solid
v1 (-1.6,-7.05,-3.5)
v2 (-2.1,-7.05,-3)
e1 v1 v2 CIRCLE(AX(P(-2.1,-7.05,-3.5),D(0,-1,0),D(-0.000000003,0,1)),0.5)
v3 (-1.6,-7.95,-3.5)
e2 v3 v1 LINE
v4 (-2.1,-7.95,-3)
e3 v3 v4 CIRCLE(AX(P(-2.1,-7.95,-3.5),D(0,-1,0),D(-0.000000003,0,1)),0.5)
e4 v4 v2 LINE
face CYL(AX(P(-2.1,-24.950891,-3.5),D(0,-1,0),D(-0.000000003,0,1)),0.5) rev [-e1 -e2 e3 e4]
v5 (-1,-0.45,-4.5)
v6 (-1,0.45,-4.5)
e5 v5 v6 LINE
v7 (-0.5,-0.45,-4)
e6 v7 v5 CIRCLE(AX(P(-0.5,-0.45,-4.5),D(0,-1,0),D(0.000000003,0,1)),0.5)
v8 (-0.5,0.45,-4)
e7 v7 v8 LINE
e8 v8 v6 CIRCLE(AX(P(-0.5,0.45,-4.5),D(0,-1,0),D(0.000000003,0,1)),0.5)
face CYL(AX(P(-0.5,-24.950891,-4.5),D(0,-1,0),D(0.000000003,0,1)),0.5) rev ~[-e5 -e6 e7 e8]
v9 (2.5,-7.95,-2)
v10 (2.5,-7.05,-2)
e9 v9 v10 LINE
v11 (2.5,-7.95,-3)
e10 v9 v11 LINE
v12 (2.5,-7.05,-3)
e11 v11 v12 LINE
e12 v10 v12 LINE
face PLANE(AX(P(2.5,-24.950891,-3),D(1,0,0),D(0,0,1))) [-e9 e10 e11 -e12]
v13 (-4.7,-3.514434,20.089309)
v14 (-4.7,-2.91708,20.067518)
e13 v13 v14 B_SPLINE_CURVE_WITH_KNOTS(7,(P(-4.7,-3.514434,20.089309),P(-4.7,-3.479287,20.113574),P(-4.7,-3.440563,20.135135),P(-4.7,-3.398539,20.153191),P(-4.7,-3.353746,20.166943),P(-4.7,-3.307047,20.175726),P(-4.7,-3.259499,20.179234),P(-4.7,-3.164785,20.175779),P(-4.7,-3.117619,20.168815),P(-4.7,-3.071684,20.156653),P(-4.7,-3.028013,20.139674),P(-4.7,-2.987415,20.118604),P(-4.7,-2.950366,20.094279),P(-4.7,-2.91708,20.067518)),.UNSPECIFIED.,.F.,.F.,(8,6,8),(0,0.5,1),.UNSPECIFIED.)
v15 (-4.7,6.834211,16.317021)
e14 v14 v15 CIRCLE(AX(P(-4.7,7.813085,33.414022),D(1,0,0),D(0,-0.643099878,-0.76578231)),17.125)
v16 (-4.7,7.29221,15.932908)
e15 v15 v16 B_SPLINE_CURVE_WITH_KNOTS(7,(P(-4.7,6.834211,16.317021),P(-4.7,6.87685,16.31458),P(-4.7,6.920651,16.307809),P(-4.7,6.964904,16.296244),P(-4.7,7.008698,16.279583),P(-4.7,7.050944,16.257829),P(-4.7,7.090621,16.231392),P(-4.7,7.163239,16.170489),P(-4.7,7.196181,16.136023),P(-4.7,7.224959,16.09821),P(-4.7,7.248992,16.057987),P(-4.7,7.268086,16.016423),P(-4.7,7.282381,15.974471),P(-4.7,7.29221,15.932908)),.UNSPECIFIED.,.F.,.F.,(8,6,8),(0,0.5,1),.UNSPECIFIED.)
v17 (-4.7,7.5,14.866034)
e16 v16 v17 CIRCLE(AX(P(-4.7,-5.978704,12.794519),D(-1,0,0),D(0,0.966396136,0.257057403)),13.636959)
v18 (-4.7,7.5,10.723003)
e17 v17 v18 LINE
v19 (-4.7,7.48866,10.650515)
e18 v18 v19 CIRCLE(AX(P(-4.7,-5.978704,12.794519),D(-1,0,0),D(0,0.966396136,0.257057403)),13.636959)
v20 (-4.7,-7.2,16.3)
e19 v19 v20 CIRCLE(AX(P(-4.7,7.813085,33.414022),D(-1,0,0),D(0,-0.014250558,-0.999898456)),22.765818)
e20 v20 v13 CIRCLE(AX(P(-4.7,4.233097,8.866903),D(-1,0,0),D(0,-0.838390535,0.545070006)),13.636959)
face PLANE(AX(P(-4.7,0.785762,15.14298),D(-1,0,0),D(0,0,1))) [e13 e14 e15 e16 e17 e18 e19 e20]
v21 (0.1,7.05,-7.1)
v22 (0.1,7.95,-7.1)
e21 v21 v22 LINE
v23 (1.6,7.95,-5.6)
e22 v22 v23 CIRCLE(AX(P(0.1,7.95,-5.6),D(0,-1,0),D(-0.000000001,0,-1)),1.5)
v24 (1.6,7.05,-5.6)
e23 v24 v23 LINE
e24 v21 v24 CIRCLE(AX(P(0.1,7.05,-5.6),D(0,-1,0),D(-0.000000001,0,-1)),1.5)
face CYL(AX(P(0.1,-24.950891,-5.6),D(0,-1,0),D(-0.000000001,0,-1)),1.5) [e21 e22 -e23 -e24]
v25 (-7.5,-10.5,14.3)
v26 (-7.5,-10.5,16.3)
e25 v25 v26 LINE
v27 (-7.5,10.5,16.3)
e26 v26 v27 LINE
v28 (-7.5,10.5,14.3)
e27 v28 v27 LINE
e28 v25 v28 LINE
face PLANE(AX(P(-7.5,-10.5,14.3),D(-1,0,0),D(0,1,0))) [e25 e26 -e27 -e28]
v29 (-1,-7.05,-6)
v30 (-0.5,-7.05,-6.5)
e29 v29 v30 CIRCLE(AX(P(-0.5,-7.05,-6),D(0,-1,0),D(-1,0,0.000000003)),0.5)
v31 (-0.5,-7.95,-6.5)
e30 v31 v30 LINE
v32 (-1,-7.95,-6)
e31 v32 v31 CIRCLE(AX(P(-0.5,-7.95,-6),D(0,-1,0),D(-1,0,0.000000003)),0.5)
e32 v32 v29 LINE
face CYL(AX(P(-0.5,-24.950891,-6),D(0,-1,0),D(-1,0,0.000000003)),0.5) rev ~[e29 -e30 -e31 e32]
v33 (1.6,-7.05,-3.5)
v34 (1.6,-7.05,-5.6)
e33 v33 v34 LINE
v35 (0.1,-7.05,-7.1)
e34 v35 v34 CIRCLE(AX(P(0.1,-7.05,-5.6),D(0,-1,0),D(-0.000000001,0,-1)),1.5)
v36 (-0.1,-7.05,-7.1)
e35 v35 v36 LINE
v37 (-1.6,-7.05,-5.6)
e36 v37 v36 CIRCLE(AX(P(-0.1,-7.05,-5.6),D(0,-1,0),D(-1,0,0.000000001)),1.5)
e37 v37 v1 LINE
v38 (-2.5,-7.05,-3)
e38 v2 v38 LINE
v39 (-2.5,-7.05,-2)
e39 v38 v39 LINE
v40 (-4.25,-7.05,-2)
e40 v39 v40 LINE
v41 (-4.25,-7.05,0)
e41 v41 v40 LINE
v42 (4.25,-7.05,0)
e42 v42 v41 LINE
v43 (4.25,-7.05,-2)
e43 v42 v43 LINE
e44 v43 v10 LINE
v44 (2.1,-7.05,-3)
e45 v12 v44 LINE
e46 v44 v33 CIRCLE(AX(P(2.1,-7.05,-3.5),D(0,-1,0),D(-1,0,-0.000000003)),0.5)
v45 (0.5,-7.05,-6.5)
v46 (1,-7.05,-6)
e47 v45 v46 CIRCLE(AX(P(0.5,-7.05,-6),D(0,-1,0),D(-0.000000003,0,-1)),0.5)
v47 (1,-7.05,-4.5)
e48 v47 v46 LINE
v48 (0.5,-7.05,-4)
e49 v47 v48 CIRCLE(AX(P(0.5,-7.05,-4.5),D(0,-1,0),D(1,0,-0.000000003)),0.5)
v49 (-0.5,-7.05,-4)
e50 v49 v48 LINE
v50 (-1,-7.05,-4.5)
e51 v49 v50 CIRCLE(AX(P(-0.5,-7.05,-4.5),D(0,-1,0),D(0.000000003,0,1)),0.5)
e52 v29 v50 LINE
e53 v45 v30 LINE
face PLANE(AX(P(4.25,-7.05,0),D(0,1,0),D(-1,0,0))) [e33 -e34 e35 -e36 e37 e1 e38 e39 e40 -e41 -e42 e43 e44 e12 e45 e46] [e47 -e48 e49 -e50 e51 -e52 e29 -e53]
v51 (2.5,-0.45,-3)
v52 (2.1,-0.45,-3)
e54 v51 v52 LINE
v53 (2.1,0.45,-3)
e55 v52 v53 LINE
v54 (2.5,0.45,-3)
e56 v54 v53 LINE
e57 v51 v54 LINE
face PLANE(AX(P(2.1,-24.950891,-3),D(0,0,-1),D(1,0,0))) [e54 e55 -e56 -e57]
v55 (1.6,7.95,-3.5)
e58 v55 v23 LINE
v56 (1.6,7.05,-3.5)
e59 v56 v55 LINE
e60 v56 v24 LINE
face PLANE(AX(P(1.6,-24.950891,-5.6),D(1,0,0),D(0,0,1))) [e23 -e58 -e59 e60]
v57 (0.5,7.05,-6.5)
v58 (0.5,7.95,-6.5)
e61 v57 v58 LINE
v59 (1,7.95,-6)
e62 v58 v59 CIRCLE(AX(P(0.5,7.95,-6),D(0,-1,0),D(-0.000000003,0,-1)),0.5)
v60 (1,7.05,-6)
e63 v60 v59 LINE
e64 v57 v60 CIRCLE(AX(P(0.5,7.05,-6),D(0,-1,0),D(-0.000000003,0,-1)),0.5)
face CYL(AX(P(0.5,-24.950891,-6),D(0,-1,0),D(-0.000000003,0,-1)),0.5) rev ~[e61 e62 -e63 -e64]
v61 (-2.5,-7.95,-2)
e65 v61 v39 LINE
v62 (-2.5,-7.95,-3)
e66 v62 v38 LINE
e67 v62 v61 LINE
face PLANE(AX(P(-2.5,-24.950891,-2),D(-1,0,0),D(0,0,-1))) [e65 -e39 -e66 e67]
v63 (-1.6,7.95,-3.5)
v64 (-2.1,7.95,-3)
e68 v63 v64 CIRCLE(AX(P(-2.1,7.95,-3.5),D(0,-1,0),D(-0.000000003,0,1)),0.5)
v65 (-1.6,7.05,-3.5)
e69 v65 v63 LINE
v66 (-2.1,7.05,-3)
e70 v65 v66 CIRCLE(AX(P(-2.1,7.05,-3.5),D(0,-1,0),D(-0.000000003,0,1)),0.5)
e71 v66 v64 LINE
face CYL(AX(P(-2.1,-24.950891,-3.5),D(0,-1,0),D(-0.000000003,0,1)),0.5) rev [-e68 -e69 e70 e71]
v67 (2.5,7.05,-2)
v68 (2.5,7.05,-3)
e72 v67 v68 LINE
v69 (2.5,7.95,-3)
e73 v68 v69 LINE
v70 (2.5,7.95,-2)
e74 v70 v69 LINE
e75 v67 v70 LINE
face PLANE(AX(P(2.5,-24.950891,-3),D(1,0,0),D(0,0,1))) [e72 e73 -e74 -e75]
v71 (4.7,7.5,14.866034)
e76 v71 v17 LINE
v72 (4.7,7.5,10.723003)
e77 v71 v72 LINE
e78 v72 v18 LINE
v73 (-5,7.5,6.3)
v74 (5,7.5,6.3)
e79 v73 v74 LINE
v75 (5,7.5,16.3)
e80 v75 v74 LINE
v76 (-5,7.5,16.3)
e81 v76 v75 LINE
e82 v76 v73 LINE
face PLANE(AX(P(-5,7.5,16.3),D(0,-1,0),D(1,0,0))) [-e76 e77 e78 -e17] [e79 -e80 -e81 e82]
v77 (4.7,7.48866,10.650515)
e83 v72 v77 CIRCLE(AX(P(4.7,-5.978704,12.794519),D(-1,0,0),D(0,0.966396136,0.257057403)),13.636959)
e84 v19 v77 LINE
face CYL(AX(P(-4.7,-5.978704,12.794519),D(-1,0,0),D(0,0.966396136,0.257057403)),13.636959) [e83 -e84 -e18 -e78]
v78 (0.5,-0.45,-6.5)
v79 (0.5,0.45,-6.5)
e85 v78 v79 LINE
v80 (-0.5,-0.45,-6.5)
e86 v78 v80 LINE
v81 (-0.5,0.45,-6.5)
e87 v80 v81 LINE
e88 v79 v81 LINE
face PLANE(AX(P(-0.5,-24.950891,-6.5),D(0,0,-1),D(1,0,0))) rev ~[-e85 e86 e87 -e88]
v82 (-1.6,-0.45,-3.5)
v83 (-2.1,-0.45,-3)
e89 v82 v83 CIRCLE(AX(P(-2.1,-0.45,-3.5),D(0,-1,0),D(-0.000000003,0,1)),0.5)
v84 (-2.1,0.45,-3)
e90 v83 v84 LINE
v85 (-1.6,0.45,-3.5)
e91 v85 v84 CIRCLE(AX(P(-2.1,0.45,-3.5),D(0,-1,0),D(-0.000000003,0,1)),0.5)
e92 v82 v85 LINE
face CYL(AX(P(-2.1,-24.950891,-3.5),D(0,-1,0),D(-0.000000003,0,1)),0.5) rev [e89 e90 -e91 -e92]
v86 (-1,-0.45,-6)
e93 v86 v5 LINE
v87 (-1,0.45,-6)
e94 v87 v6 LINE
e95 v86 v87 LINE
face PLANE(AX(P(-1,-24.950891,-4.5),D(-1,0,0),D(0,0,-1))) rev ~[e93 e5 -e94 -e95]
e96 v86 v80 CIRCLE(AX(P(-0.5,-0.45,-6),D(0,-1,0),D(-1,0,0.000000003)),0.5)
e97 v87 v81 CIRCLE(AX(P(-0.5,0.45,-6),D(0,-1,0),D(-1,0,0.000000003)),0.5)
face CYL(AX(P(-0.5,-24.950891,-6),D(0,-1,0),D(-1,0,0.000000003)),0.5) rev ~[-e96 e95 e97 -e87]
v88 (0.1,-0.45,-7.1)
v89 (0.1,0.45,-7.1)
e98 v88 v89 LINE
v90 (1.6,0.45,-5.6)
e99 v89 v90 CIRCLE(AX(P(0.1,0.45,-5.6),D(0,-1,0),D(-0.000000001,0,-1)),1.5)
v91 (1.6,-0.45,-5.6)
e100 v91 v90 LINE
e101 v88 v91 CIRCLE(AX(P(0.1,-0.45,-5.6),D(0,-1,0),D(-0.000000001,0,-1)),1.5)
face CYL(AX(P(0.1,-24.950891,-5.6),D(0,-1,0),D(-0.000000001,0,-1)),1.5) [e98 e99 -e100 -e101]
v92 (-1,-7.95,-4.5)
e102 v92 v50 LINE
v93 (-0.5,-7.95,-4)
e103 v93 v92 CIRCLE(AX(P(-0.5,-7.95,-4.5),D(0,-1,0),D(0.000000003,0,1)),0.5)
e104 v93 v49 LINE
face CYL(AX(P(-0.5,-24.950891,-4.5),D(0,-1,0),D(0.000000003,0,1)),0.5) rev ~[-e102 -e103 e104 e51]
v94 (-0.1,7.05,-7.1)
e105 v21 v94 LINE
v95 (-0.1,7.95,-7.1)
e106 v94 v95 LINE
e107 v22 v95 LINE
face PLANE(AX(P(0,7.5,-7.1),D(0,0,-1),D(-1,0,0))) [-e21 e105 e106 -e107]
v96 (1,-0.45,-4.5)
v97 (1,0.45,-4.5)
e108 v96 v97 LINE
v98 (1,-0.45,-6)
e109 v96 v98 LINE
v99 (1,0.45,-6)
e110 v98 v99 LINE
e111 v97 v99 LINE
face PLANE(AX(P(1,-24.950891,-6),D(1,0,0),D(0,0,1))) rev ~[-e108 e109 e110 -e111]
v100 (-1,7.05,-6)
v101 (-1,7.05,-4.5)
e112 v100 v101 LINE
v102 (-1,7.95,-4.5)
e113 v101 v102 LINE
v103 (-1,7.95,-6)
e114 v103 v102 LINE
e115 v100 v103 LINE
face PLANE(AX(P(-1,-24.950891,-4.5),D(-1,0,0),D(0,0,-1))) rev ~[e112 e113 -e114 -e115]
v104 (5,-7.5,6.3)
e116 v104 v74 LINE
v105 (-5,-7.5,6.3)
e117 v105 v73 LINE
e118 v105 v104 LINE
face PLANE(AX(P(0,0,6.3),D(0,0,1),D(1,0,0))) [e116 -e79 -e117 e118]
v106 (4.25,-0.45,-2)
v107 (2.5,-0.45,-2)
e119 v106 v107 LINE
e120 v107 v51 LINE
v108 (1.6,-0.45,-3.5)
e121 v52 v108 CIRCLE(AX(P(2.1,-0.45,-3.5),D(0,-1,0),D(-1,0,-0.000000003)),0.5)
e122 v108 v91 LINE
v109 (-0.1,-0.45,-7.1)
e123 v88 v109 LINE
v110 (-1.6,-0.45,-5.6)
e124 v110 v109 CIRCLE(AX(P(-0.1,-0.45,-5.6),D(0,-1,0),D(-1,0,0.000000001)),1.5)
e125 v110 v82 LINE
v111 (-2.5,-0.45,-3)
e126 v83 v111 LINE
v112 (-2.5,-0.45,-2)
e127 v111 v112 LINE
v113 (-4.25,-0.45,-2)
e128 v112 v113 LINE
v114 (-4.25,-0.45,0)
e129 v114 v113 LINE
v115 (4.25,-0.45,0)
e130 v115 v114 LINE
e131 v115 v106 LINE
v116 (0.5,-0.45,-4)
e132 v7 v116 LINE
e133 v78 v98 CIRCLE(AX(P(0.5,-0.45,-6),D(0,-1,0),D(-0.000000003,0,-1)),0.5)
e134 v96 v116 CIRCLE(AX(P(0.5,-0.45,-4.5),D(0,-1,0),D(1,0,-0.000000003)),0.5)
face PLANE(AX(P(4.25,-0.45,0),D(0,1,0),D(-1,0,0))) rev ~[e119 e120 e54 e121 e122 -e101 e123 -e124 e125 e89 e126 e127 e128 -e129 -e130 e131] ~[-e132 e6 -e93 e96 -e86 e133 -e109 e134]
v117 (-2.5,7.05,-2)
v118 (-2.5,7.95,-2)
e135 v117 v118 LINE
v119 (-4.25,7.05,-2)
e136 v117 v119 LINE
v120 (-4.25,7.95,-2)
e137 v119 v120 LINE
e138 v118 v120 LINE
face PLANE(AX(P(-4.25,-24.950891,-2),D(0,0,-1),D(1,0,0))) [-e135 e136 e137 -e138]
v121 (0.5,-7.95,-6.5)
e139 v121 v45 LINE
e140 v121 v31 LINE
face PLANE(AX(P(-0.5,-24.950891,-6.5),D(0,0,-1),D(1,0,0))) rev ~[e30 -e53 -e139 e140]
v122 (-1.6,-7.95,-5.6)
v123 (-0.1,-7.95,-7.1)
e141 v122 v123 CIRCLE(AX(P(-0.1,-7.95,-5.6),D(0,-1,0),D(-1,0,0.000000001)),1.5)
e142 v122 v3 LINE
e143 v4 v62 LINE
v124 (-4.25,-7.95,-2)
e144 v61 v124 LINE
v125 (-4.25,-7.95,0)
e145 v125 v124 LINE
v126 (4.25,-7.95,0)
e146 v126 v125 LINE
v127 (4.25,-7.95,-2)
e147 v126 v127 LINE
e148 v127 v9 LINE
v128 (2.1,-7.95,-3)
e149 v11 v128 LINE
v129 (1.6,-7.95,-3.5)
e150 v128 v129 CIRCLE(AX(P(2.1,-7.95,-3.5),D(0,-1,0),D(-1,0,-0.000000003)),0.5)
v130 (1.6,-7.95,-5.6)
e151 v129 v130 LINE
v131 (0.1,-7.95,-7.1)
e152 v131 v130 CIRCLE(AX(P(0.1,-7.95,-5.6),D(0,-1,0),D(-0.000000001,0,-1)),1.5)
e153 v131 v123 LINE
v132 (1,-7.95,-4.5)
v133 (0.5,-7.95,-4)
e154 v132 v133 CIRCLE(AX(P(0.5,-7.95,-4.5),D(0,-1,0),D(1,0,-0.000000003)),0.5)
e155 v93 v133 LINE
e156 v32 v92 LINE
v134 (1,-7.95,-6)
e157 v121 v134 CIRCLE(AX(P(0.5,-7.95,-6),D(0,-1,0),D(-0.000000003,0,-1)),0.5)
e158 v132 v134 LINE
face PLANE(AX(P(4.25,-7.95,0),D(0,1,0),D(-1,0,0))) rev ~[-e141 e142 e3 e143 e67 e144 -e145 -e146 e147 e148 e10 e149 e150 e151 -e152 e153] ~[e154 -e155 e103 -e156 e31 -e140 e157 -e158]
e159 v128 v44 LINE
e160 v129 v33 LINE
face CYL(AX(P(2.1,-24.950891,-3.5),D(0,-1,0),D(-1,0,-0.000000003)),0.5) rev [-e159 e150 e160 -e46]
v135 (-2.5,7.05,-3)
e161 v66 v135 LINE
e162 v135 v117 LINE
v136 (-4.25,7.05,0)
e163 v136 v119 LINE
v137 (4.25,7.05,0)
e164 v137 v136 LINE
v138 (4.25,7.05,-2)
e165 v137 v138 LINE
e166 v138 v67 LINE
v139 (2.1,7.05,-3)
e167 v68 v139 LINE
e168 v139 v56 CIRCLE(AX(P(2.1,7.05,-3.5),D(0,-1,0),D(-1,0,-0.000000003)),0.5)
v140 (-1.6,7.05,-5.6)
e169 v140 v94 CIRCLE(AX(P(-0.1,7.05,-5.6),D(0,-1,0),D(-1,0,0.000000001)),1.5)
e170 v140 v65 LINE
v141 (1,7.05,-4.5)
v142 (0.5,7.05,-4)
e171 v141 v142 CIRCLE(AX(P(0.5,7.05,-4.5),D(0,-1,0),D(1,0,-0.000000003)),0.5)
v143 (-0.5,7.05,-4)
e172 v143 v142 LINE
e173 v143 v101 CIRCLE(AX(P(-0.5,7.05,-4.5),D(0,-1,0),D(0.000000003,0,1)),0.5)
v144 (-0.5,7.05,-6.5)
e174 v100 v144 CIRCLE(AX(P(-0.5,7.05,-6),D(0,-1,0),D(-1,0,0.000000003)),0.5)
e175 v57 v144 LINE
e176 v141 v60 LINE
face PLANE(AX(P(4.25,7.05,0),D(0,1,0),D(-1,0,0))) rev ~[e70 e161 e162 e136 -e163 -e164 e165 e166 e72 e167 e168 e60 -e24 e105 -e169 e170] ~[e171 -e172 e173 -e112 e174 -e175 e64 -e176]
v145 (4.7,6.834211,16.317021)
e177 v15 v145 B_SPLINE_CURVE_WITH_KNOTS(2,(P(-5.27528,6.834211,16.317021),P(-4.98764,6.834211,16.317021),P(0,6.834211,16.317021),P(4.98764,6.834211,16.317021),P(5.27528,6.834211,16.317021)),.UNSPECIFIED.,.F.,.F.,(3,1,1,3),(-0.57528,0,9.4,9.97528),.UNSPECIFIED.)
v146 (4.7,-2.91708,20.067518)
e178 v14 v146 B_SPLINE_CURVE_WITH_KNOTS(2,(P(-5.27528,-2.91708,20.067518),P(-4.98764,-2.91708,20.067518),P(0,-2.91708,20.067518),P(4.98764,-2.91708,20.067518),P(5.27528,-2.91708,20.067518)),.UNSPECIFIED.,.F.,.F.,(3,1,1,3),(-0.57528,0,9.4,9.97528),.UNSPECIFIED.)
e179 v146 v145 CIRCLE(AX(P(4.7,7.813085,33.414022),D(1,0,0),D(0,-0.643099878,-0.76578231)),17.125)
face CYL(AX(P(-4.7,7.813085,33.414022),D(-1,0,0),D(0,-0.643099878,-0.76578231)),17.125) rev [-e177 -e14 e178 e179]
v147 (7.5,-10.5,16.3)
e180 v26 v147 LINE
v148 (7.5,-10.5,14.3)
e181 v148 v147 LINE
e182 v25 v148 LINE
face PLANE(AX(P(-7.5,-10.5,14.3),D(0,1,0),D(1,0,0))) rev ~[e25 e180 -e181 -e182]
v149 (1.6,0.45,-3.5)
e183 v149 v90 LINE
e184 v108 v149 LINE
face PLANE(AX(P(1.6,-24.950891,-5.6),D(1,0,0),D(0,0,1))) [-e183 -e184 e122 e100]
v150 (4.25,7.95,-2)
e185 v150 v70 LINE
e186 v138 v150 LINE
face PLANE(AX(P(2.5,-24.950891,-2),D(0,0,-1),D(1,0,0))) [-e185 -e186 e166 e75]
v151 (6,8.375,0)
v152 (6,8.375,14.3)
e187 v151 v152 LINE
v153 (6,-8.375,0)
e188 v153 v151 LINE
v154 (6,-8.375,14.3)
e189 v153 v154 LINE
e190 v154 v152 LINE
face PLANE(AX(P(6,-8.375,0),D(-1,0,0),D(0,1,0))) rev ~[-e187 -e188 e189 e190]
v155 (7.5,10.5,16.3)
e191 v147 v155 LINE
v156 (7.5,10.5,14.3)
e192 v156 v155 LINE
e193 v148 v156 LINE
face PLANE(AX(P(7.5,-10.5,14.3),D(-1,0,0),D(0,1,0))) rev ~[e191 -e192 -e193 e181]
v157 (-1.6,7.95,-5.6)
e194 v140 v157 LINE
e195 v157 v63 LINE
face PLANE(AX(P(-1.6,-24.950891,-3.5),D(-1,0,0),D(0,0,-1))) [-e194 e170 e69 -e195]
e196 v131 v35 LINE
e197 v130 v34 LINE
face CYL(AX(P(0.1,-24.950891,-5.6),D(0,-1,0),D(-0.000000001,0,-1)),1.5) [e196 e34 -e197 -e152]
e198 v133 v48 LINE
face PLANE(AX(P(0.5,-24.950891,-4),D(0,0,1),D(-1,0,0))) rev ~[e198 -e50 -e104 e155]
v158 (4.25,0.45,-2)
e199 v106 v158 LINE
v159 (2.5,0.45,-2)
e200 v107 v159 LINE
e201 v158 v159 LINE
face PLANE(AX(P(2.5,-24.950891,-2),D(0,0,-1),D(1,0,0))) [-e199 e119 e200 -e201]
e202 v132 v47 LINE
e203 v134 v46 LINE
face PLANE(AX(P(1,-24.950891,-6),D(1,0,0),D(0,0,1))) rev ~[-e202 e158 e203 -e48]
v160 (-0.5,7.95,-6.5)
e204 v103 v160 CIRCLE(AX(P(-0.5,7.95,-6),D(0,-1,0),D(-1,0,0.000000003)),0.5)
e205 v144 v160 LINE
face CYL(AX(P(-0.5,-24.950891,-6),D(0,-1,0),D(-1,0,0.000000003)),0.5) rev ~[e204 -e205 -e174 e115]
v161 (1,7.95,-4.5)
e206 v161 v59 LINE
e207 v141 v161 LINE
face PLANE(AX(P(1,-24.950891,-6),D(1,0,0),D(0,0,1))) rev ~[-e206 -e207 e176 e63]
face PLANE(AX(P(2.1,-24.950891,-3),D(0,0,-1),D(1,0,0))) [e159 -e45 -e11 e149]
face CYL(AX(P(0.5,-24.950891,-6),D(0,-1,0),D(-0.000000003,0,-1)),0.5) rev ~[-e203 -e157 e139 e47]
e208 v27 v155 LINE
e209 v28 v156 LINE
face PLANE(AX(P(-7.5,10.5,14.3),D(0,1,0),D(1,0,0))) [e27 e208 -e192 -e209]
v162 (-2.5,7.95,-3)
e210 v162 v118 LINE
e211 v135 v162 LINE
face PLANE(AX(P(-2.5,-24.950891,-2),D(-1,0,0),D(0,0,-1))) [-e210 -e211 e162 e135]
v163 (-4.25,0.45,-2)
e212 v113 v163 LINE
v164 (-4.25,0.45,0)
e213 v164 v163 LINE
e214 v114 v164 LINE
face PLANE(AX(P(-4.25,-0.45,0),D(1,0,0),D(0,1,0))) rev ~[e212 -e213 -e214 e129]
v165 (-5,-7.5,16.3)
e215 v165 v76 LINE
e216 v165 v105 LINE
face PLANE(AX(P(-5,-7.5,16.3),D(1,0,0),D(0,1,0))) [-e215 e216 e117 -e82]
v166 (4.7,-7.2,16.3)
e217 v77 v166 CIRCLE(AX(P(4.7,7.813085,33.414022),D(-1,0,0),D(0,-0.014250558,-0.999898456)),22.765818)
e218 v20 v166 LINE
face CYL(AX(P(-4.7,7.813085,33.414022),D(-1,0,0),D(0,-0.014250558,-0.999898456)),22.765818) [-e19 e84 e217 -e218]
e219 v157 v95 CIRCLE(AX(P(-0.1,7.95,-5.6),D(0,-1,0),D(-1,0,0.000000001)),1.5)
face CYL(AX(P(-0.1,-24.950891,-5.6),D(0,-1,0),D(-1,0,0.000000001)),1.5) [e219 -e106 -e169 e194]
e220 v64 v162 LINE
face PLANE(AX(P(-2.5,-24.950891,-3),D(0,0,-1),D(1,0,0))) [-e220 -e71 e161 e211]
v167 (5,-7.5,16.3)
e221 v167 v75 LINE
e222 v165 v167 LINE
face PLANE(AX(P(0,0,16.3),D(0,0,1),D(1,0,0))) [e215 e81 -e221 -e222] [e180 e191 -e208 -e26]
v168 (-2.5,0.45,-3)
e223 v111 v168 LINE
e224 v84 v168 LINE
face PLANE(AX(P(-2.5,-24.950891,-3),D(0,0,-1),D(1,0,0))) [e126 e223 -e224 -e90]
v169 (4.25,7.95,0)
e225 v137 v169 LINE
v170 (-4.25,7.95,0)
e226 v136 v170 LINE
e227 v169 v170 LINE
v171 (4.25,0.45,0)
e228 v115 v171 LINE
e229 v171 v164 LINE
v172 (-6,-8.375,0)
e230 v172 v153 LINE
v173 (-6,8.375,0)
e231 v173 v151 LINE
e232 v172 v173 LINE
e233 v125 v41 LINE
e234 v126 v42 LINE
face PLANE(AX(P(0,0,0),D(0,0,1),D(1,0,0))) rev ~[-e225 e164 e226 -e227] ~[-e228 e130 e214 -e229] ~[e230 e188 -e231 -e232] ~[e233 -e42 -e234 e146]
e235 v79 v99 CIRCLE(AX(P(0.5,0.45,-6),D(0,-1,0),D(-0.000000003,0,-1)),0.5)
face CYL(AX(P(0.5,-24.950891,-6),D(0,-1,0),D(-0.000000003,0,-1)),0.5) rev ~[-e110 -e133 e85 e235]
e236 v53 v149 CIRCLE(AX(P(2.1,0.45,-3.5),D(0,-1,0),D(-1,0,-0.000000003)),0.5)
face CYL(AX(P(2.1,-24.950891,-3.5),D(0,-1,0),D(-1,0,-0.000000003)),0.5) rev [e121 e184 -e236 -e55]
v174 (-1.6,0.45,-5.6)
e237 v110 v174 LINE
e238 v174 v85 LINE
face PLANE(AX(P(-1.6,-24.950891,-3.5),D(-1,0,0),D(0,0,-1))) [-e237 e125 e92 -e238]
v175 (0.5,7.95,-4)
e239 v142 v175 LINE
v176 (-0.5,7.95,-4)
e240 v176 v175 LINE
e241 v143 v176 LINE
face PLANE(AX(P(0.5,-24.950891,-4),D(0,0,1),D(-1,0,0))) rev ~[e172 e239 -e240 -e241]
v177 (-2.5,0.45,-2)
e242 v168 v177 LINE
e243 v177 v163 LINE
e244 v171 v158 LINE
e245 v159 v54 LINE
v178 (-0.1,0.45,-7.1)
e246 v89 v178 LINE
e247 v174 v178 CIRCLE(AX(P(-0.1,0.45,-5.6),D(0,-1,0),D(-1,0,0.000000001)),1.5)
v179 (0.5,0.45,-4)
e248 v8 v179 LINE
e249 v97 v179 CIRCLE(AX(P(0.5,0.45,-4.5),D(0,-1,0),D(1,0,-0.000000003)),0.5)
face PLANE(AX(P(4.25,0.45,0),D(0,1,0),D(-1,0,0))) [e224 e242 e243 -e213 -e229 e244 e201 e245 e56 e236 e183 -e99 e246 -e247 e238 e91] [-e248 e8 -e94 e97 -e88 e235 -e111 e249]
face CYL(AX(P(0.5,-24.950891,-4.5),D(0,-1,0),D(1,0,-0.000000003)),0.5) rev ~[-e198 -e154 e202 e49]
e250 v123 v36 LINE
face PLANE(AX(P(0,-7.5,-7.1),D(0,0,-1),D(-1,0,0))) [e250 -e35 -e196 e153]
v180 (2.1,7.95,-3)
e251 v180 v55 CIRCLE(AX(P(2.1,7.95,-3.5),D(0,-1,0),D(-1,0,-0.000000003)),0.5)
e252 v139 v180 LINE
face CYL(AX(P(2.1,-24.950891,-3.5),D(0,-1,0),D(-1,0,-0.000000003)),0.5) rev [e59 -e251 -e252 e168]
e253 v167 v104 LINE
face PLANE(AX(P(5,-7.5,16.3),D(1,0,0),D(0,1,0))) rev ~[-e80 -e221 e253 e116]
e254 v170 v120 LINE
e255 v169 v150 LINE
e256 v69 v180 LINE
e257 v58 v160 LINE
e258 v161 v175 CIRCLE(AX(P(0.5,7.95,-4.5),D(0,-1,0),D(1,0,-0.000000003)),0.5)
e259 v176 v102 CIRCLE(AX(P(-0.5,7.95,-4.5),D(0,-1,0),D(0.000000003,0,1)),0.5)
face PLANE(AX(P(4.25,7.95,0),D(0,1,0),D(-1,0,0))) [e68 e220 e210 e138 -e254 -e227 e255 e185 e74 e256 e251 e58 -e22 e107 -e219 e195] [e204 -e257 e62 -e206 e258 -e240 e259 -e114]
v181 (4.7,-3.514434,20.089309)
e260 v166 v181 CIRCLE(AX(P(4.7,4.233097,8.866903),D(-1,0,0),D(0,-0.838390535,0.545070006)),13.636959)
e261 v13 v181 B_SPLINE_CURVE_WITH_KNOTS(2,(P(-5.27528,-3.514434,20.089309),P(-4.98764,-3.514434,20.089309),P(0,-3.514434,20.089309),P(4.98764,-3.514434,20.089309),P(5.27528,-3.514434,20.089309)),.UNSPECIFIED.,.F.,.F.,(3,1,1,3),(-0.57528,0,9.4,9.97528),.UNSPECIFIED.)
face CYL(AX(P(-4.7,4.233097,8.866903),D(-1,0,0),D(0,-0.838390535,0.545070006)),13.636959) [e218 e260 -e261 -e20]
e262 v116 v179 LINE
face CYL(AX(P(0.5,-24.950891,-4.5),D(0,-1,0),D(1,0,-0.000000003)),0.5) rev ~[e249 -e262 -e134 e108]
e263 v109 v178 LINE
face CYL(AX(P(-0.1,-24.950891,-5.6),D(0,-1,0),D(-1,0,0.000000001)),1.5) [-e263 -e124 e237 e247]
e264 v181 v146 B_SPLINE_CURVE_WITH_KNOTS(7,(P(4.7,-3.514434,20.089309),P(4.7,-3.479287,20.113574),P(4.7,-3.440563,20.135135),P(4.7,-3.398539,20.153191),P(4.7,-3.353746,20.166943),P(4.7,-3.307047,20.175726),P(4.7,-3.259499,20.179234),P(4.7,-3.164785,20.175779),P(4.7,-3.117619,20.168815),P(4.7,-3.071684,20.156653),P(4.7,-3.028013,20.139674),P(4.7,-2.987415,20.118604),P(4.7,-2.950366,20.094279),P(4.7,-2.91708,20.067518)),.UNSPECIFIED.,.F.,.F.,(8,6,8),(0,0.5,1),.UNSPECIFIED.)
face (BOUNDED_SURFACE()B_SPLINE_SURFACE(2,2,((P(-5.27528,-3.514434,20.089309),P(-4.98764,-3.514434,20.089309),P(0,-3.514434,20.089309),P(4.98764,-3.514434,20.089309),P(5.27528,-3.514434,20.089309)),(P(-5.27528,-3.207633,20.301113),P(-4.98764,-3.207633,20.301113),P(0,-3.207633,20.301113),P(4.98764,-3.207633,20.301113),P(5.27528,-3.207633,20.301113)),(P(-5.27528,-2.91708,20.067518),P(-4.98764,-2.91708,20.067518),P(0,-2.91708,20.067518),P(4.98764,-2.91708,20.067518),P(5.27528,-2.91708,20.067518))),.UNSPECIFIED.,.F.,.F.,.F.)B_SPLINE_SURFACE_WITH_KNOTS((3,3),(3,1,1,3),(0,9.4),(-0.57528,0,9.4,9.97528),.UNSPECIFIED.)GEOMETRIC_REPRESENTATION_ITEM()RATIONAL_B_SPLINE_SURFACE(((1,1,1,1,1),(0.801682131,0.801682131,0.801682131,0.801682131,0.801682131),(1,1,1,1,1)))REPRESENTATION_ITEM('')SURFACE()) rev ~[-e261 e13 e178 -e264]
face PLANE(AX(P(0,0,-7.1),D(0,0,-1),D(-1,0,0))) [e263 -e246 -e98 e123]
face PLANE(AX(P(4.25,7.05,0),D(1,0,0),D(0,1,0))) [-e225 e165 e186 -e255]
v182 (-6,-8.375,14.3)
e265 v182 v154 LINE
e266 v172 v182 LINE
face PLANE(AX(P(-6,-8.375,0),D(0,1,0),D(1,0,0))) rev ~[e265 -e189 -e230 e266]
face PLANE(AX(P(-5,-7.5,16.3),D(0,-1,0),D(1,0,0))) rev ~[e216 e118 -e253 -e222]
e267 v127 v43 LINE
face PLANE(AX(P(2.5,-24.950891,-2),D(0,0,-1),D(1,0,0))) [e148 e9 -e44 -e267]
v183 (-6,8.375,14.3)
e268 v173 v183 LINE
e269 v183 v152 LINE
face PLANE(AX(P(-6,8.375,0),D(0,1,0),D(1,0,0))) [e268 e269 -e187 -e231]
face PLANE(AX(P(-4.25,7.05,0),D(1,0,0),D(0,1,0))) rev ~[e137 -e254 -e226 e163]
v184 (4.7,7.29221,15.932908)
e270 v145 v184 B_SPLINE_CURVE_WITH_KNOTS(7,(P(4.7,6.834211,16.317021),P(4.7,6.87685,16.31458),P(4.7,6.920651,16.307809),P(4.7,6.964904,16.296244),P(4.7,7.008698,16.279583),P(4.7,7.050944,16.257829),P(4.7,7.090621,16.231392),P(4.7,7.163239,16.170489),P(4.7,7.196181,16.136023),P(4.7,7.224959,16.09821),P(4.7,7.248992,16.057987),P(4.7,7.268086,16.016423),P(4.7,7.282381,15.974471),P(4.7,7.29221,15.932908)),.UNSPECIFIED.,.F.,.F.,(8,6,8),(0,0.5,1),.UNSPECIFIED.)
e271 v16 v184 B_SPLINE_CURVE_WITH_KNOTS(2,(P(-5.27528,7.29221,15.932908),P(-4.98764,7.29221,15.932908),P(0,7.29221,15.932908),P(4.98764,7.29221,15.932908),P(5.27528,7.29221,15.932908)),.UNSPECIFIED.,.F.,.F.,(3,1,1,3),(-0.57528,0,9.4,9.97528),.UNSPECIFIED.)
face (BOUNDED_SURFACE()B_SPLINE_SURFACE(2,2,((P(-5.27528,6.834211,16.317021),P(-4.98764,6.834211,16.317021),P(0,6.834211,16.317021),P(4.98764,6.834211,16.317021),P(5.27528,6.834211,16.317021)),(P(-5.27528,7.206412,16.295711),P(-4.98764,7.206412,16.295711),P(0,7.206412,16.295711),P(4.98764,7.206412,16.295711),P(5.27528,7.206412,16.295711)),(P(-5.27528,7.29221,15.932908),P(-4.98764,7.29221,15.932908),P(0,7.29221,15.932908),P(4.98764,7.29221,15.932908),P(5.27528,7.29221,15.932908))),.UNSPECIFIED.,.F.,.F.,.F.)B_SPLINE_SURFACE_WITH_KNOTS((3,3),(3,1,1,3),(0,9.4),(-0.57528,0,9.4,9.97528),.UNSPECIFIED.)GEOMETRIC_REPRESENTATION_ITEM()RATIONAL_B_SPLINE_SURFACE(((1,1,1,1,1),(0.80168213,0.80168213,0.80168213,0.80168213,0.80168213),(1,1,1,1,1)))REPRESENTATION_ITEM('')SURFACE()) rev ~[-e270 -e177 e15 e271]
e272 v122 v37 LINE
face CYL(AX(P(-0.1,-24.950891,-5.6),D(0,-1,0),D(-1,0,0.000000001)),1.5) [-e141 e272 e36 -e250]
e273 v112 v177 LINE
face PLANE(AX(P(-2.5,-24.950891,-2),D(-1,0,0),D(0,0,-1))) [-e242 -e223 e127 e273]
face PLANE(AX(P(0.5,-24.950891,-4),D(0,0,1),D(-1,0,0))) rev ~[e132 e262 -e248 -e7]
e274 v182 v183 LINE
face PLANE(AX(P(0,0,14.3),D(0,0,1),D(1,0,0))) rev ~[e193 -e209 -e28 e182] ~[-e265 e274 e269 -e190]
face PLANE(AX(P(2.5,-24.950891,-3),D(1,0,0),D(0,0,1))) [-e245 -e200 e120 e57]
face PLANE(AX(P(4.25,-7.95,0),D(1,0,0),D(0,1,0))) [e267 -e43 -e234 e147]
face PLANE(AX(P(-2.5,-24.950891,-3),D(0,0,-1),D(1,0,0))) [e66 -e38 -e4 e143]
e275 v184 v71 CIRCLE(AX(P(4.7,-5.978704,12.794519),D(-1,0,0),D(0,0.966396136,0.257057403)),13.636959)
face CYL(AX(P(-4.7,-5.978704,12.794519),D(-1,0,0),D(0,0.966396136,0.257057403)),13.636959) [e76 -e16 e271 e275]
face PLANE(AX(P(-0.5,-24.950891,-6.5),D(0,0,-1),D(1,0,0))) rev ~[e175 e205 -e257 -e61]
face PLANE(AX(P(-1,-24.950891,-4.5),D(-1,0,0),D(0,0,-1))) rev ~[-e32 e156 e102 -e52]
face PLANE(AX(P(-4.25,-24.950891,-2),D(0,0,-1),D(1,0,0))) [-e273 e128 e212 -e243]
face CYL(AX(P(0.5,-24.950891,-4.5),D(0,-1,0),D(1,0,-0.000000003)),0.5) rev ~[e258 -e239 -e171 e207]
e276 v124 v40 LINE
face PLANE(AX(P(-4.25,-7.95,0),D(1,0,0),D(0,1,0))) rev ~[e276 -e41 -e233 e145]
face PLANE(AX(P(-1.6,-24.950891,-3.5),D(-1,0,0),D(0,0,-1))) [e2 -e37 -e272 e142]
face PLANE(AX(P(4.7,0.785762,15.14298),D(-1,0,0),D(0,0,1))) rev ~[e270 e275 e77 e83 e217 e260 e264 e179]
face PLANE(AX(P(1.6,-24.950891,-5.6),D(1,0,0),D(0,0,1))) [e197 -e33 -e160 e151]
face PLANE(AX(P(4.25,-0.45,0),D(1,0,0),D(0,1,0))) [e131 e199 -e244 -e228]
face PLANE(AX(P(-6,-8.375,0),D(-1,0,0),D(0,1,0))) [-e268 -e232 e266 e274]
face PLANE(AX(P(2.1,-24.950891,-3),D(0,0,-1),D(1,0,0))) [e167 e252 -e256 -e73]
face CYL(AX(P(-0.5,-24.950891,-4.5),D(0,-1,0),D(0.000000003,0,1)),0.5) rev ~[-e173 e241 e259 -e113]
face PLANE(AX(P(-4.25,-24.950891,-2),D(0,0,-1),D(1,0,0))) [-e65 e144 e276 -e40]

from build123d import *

# Parameters (mm, degrees)
ESBO_O1_W                     = 12
ESBO_O1_H                     = 16.75
RESSALTO_EXTRUS_O1_DEPTH      = 14.3
ESBO_O2_W                     = 15
ESBO_O2_H                     = 21
RESSALTO_EXTRUS_O2_DEPTH      = 2
ESBO_O3_W                     = 10
ESBO_O3_H                     = 15
CORTE_EXTRUS_O1_DEPTH         = 10
RESSALTO_EXTRUS_O3_DEPTH      = 4.7
RESSALTO_EXTRUS_O3_DEPTH_BACK = 4.7
FILETE1_R                     = 0.5
ESBO_O5_W                     = 8.5
ESBO_O5_H                     = 0.9
RESSALTO_EXTRUS_O4_DEPTH      = 7.1
CORTE_EXTRUS_O2_DEPTH         = 24.950891393
CORTE_EXTRUS_O2_DEPTH_BACK    = 24.950891393


with BuildPart() as part:
    # Esboço1 → Ressalto-extrusão1 (new body)
    with BuildSketch(Plane.XY):
        Rectangle(ESBO_O1_W, ESBO_O1_H)
    extrude(amount=RESSALTO_EXTRUS_O1_DEPTH)

    # Esboço2 → Ressalto-extrusão2 (add)
    with BuildSketch(Plane.XY.offset(14.3)):
        Rectangle(ESBO_O2_W, ESBO_O2_H)
    extrude(amount=RESSALTO_EXTRUS_O2_DEPTH)

    # Esboço3 → Corte-extrusão1 (cut)
    with BuildSketch(Plane.XY.offset(16.3)):
        Rectangle(ESBO_O3_W, ESBO_O3_H)
    extrude(amount=-CORTE_EXTRUS_O1_DEPTH, mode=Mode.SUBTRACT)

    # Esboço4 → Ressalto-extrusão3 (add, two sides: drawn at the far end of the back side and taken through both)
    with BuildSketch(Plane(origin=(0, 0, 0), x_dir=(0, 0, -1), z_dir=(1, 0, 0)).offset(-RESSALTO_EXTRUS_O3_DEPTH_BACK)):
        with BuildLine():
            ThreePointArc((-10.650515464, 7.488659794), (-12.165645544, -0.359367098), (-16.3, -7.2))
            ThreePointArc((-16.3, -7.2), (-18.509688847, -5.409688847), (-20.3, -3.2))
            ThreePointArc((-20.3, -3.2), (-17.43047856, 1.665568677), (-16.3, 7.2))
            ThreePointArc((-16.3, 7.2), (-13.490389917, 7.640488371), (-10.650515464, 7.488659794))
        make_face()
    extrude(amount=RESSALTO_EXTRUS_O3_DEPTH + RESSALTO_EXTRUS_O3_DEPTH_BACK)

    # Filete1
    filete1_edges = [part.edges().sort_by_distance(p)[0] for p in [
        (0, 7.2, 16.3),
        (0, -3.2, 20.3),
    ]]
    fillet(filete1_edges, radius=FILETE1_R)

    # Esboço5 → Ressalto-extrusão4 (add)
    with BuildSketch(Plane(origin=(0, 0, 0), x_dir=(-1, 0, 0), z_dir=(0, 0, -1))):
        Rectangle(ESBO_O5_W, ESBO_O5_H)
        with Locations((0, -7.5)):
            Rectangle(ESBO_O5_W, ESBO_O5_H)
        with Locations((0, 7.5)):
            Rectangle(ESBO_O5_W, ESBO_O5_H)
    extrude(amount=RESSALTO_EXTRUS_O4_DEPTH)

    # Esboço7 → Corte-extrusão2 (cut, two sides: drawn at the far end of the back side and taken through both)
    with BuildSketch(Plane(origin=(0, 0, 0), x_dir=(1, 0, 0), z_dir=(0, 1, 0)).offset(-CORTE_EXTRUS_O2_DEPTH_BACK)):
        with BuildLine():
            Line((2.5, 2), (4.25, 2))
            Line((4.25, 2), (4.25, 7.1))
            Line((4.25, 7.1), (0.1, 7.1))
            ThreePointArc((0.1, 7.1), (1.160660172, 6.660660172), (1.6, 5.6))
            Line((1.6, 5.6), (1.6, 3.5))
            ThreePointArc((1.6, 3.5), (1.746446609, 3.146446609), (2.1, 3))
            Line((2.1, 3), (2.5, 3))
            Line((2.5, 3), (2.5, 2))
        make_face()
        with BuildLine():
            Line((-4.25, 7.1), (-4.25, 2))
            Line((-4.25, 2), (-2.5, 2))
            Line((-2.5, 2), (-2.5, 3))
            Line((-2.5, 3), (-2.1, 3))
            ThreePointArc((-2.1, 3), (-1.746446609, 3.146446609), (-1.6, 3.5))
            Line((-1.6, 3.5), (-1.6, 5.6))
            ThreePointArc((-1.6, 5.6), (-1.160660172, 6.660660172), (-0.1, 7.1))
            Line((-0.1, 7.1), (-4.25, 7.1))
        make_face()
        with BuildLine():
            ThreePointArc((0.5, 6.5), (0.853553391, 6.353553391), (1, 6))
            Line((1, 6), (1, 4.5))
            ThreePointArc((1, 4.5), (0.853553391, 4.146446609), (0.5, 4))
            Line((0.5, 4), (-0.5, 4))
            ThreePointArc((-0.5, 4), (-0.853553391, 4.146446609), (-1, 4.5))
            Line((-1, 4.5), (-1, 6))
            ThreePointArc((-1, 6), (-0.853553391, 6.353553391), (-0.5, 6.5))
            Line((-0.5, 6.5), (0.5, 6.5))
        make_face()
    extrude(amount=CORTE_EXTRUS_O2_DEPTH + CORTE_EXTRUS_O2_DEPTH_BACK, mode=Mode.SUBTRACT)


solid = part.part
